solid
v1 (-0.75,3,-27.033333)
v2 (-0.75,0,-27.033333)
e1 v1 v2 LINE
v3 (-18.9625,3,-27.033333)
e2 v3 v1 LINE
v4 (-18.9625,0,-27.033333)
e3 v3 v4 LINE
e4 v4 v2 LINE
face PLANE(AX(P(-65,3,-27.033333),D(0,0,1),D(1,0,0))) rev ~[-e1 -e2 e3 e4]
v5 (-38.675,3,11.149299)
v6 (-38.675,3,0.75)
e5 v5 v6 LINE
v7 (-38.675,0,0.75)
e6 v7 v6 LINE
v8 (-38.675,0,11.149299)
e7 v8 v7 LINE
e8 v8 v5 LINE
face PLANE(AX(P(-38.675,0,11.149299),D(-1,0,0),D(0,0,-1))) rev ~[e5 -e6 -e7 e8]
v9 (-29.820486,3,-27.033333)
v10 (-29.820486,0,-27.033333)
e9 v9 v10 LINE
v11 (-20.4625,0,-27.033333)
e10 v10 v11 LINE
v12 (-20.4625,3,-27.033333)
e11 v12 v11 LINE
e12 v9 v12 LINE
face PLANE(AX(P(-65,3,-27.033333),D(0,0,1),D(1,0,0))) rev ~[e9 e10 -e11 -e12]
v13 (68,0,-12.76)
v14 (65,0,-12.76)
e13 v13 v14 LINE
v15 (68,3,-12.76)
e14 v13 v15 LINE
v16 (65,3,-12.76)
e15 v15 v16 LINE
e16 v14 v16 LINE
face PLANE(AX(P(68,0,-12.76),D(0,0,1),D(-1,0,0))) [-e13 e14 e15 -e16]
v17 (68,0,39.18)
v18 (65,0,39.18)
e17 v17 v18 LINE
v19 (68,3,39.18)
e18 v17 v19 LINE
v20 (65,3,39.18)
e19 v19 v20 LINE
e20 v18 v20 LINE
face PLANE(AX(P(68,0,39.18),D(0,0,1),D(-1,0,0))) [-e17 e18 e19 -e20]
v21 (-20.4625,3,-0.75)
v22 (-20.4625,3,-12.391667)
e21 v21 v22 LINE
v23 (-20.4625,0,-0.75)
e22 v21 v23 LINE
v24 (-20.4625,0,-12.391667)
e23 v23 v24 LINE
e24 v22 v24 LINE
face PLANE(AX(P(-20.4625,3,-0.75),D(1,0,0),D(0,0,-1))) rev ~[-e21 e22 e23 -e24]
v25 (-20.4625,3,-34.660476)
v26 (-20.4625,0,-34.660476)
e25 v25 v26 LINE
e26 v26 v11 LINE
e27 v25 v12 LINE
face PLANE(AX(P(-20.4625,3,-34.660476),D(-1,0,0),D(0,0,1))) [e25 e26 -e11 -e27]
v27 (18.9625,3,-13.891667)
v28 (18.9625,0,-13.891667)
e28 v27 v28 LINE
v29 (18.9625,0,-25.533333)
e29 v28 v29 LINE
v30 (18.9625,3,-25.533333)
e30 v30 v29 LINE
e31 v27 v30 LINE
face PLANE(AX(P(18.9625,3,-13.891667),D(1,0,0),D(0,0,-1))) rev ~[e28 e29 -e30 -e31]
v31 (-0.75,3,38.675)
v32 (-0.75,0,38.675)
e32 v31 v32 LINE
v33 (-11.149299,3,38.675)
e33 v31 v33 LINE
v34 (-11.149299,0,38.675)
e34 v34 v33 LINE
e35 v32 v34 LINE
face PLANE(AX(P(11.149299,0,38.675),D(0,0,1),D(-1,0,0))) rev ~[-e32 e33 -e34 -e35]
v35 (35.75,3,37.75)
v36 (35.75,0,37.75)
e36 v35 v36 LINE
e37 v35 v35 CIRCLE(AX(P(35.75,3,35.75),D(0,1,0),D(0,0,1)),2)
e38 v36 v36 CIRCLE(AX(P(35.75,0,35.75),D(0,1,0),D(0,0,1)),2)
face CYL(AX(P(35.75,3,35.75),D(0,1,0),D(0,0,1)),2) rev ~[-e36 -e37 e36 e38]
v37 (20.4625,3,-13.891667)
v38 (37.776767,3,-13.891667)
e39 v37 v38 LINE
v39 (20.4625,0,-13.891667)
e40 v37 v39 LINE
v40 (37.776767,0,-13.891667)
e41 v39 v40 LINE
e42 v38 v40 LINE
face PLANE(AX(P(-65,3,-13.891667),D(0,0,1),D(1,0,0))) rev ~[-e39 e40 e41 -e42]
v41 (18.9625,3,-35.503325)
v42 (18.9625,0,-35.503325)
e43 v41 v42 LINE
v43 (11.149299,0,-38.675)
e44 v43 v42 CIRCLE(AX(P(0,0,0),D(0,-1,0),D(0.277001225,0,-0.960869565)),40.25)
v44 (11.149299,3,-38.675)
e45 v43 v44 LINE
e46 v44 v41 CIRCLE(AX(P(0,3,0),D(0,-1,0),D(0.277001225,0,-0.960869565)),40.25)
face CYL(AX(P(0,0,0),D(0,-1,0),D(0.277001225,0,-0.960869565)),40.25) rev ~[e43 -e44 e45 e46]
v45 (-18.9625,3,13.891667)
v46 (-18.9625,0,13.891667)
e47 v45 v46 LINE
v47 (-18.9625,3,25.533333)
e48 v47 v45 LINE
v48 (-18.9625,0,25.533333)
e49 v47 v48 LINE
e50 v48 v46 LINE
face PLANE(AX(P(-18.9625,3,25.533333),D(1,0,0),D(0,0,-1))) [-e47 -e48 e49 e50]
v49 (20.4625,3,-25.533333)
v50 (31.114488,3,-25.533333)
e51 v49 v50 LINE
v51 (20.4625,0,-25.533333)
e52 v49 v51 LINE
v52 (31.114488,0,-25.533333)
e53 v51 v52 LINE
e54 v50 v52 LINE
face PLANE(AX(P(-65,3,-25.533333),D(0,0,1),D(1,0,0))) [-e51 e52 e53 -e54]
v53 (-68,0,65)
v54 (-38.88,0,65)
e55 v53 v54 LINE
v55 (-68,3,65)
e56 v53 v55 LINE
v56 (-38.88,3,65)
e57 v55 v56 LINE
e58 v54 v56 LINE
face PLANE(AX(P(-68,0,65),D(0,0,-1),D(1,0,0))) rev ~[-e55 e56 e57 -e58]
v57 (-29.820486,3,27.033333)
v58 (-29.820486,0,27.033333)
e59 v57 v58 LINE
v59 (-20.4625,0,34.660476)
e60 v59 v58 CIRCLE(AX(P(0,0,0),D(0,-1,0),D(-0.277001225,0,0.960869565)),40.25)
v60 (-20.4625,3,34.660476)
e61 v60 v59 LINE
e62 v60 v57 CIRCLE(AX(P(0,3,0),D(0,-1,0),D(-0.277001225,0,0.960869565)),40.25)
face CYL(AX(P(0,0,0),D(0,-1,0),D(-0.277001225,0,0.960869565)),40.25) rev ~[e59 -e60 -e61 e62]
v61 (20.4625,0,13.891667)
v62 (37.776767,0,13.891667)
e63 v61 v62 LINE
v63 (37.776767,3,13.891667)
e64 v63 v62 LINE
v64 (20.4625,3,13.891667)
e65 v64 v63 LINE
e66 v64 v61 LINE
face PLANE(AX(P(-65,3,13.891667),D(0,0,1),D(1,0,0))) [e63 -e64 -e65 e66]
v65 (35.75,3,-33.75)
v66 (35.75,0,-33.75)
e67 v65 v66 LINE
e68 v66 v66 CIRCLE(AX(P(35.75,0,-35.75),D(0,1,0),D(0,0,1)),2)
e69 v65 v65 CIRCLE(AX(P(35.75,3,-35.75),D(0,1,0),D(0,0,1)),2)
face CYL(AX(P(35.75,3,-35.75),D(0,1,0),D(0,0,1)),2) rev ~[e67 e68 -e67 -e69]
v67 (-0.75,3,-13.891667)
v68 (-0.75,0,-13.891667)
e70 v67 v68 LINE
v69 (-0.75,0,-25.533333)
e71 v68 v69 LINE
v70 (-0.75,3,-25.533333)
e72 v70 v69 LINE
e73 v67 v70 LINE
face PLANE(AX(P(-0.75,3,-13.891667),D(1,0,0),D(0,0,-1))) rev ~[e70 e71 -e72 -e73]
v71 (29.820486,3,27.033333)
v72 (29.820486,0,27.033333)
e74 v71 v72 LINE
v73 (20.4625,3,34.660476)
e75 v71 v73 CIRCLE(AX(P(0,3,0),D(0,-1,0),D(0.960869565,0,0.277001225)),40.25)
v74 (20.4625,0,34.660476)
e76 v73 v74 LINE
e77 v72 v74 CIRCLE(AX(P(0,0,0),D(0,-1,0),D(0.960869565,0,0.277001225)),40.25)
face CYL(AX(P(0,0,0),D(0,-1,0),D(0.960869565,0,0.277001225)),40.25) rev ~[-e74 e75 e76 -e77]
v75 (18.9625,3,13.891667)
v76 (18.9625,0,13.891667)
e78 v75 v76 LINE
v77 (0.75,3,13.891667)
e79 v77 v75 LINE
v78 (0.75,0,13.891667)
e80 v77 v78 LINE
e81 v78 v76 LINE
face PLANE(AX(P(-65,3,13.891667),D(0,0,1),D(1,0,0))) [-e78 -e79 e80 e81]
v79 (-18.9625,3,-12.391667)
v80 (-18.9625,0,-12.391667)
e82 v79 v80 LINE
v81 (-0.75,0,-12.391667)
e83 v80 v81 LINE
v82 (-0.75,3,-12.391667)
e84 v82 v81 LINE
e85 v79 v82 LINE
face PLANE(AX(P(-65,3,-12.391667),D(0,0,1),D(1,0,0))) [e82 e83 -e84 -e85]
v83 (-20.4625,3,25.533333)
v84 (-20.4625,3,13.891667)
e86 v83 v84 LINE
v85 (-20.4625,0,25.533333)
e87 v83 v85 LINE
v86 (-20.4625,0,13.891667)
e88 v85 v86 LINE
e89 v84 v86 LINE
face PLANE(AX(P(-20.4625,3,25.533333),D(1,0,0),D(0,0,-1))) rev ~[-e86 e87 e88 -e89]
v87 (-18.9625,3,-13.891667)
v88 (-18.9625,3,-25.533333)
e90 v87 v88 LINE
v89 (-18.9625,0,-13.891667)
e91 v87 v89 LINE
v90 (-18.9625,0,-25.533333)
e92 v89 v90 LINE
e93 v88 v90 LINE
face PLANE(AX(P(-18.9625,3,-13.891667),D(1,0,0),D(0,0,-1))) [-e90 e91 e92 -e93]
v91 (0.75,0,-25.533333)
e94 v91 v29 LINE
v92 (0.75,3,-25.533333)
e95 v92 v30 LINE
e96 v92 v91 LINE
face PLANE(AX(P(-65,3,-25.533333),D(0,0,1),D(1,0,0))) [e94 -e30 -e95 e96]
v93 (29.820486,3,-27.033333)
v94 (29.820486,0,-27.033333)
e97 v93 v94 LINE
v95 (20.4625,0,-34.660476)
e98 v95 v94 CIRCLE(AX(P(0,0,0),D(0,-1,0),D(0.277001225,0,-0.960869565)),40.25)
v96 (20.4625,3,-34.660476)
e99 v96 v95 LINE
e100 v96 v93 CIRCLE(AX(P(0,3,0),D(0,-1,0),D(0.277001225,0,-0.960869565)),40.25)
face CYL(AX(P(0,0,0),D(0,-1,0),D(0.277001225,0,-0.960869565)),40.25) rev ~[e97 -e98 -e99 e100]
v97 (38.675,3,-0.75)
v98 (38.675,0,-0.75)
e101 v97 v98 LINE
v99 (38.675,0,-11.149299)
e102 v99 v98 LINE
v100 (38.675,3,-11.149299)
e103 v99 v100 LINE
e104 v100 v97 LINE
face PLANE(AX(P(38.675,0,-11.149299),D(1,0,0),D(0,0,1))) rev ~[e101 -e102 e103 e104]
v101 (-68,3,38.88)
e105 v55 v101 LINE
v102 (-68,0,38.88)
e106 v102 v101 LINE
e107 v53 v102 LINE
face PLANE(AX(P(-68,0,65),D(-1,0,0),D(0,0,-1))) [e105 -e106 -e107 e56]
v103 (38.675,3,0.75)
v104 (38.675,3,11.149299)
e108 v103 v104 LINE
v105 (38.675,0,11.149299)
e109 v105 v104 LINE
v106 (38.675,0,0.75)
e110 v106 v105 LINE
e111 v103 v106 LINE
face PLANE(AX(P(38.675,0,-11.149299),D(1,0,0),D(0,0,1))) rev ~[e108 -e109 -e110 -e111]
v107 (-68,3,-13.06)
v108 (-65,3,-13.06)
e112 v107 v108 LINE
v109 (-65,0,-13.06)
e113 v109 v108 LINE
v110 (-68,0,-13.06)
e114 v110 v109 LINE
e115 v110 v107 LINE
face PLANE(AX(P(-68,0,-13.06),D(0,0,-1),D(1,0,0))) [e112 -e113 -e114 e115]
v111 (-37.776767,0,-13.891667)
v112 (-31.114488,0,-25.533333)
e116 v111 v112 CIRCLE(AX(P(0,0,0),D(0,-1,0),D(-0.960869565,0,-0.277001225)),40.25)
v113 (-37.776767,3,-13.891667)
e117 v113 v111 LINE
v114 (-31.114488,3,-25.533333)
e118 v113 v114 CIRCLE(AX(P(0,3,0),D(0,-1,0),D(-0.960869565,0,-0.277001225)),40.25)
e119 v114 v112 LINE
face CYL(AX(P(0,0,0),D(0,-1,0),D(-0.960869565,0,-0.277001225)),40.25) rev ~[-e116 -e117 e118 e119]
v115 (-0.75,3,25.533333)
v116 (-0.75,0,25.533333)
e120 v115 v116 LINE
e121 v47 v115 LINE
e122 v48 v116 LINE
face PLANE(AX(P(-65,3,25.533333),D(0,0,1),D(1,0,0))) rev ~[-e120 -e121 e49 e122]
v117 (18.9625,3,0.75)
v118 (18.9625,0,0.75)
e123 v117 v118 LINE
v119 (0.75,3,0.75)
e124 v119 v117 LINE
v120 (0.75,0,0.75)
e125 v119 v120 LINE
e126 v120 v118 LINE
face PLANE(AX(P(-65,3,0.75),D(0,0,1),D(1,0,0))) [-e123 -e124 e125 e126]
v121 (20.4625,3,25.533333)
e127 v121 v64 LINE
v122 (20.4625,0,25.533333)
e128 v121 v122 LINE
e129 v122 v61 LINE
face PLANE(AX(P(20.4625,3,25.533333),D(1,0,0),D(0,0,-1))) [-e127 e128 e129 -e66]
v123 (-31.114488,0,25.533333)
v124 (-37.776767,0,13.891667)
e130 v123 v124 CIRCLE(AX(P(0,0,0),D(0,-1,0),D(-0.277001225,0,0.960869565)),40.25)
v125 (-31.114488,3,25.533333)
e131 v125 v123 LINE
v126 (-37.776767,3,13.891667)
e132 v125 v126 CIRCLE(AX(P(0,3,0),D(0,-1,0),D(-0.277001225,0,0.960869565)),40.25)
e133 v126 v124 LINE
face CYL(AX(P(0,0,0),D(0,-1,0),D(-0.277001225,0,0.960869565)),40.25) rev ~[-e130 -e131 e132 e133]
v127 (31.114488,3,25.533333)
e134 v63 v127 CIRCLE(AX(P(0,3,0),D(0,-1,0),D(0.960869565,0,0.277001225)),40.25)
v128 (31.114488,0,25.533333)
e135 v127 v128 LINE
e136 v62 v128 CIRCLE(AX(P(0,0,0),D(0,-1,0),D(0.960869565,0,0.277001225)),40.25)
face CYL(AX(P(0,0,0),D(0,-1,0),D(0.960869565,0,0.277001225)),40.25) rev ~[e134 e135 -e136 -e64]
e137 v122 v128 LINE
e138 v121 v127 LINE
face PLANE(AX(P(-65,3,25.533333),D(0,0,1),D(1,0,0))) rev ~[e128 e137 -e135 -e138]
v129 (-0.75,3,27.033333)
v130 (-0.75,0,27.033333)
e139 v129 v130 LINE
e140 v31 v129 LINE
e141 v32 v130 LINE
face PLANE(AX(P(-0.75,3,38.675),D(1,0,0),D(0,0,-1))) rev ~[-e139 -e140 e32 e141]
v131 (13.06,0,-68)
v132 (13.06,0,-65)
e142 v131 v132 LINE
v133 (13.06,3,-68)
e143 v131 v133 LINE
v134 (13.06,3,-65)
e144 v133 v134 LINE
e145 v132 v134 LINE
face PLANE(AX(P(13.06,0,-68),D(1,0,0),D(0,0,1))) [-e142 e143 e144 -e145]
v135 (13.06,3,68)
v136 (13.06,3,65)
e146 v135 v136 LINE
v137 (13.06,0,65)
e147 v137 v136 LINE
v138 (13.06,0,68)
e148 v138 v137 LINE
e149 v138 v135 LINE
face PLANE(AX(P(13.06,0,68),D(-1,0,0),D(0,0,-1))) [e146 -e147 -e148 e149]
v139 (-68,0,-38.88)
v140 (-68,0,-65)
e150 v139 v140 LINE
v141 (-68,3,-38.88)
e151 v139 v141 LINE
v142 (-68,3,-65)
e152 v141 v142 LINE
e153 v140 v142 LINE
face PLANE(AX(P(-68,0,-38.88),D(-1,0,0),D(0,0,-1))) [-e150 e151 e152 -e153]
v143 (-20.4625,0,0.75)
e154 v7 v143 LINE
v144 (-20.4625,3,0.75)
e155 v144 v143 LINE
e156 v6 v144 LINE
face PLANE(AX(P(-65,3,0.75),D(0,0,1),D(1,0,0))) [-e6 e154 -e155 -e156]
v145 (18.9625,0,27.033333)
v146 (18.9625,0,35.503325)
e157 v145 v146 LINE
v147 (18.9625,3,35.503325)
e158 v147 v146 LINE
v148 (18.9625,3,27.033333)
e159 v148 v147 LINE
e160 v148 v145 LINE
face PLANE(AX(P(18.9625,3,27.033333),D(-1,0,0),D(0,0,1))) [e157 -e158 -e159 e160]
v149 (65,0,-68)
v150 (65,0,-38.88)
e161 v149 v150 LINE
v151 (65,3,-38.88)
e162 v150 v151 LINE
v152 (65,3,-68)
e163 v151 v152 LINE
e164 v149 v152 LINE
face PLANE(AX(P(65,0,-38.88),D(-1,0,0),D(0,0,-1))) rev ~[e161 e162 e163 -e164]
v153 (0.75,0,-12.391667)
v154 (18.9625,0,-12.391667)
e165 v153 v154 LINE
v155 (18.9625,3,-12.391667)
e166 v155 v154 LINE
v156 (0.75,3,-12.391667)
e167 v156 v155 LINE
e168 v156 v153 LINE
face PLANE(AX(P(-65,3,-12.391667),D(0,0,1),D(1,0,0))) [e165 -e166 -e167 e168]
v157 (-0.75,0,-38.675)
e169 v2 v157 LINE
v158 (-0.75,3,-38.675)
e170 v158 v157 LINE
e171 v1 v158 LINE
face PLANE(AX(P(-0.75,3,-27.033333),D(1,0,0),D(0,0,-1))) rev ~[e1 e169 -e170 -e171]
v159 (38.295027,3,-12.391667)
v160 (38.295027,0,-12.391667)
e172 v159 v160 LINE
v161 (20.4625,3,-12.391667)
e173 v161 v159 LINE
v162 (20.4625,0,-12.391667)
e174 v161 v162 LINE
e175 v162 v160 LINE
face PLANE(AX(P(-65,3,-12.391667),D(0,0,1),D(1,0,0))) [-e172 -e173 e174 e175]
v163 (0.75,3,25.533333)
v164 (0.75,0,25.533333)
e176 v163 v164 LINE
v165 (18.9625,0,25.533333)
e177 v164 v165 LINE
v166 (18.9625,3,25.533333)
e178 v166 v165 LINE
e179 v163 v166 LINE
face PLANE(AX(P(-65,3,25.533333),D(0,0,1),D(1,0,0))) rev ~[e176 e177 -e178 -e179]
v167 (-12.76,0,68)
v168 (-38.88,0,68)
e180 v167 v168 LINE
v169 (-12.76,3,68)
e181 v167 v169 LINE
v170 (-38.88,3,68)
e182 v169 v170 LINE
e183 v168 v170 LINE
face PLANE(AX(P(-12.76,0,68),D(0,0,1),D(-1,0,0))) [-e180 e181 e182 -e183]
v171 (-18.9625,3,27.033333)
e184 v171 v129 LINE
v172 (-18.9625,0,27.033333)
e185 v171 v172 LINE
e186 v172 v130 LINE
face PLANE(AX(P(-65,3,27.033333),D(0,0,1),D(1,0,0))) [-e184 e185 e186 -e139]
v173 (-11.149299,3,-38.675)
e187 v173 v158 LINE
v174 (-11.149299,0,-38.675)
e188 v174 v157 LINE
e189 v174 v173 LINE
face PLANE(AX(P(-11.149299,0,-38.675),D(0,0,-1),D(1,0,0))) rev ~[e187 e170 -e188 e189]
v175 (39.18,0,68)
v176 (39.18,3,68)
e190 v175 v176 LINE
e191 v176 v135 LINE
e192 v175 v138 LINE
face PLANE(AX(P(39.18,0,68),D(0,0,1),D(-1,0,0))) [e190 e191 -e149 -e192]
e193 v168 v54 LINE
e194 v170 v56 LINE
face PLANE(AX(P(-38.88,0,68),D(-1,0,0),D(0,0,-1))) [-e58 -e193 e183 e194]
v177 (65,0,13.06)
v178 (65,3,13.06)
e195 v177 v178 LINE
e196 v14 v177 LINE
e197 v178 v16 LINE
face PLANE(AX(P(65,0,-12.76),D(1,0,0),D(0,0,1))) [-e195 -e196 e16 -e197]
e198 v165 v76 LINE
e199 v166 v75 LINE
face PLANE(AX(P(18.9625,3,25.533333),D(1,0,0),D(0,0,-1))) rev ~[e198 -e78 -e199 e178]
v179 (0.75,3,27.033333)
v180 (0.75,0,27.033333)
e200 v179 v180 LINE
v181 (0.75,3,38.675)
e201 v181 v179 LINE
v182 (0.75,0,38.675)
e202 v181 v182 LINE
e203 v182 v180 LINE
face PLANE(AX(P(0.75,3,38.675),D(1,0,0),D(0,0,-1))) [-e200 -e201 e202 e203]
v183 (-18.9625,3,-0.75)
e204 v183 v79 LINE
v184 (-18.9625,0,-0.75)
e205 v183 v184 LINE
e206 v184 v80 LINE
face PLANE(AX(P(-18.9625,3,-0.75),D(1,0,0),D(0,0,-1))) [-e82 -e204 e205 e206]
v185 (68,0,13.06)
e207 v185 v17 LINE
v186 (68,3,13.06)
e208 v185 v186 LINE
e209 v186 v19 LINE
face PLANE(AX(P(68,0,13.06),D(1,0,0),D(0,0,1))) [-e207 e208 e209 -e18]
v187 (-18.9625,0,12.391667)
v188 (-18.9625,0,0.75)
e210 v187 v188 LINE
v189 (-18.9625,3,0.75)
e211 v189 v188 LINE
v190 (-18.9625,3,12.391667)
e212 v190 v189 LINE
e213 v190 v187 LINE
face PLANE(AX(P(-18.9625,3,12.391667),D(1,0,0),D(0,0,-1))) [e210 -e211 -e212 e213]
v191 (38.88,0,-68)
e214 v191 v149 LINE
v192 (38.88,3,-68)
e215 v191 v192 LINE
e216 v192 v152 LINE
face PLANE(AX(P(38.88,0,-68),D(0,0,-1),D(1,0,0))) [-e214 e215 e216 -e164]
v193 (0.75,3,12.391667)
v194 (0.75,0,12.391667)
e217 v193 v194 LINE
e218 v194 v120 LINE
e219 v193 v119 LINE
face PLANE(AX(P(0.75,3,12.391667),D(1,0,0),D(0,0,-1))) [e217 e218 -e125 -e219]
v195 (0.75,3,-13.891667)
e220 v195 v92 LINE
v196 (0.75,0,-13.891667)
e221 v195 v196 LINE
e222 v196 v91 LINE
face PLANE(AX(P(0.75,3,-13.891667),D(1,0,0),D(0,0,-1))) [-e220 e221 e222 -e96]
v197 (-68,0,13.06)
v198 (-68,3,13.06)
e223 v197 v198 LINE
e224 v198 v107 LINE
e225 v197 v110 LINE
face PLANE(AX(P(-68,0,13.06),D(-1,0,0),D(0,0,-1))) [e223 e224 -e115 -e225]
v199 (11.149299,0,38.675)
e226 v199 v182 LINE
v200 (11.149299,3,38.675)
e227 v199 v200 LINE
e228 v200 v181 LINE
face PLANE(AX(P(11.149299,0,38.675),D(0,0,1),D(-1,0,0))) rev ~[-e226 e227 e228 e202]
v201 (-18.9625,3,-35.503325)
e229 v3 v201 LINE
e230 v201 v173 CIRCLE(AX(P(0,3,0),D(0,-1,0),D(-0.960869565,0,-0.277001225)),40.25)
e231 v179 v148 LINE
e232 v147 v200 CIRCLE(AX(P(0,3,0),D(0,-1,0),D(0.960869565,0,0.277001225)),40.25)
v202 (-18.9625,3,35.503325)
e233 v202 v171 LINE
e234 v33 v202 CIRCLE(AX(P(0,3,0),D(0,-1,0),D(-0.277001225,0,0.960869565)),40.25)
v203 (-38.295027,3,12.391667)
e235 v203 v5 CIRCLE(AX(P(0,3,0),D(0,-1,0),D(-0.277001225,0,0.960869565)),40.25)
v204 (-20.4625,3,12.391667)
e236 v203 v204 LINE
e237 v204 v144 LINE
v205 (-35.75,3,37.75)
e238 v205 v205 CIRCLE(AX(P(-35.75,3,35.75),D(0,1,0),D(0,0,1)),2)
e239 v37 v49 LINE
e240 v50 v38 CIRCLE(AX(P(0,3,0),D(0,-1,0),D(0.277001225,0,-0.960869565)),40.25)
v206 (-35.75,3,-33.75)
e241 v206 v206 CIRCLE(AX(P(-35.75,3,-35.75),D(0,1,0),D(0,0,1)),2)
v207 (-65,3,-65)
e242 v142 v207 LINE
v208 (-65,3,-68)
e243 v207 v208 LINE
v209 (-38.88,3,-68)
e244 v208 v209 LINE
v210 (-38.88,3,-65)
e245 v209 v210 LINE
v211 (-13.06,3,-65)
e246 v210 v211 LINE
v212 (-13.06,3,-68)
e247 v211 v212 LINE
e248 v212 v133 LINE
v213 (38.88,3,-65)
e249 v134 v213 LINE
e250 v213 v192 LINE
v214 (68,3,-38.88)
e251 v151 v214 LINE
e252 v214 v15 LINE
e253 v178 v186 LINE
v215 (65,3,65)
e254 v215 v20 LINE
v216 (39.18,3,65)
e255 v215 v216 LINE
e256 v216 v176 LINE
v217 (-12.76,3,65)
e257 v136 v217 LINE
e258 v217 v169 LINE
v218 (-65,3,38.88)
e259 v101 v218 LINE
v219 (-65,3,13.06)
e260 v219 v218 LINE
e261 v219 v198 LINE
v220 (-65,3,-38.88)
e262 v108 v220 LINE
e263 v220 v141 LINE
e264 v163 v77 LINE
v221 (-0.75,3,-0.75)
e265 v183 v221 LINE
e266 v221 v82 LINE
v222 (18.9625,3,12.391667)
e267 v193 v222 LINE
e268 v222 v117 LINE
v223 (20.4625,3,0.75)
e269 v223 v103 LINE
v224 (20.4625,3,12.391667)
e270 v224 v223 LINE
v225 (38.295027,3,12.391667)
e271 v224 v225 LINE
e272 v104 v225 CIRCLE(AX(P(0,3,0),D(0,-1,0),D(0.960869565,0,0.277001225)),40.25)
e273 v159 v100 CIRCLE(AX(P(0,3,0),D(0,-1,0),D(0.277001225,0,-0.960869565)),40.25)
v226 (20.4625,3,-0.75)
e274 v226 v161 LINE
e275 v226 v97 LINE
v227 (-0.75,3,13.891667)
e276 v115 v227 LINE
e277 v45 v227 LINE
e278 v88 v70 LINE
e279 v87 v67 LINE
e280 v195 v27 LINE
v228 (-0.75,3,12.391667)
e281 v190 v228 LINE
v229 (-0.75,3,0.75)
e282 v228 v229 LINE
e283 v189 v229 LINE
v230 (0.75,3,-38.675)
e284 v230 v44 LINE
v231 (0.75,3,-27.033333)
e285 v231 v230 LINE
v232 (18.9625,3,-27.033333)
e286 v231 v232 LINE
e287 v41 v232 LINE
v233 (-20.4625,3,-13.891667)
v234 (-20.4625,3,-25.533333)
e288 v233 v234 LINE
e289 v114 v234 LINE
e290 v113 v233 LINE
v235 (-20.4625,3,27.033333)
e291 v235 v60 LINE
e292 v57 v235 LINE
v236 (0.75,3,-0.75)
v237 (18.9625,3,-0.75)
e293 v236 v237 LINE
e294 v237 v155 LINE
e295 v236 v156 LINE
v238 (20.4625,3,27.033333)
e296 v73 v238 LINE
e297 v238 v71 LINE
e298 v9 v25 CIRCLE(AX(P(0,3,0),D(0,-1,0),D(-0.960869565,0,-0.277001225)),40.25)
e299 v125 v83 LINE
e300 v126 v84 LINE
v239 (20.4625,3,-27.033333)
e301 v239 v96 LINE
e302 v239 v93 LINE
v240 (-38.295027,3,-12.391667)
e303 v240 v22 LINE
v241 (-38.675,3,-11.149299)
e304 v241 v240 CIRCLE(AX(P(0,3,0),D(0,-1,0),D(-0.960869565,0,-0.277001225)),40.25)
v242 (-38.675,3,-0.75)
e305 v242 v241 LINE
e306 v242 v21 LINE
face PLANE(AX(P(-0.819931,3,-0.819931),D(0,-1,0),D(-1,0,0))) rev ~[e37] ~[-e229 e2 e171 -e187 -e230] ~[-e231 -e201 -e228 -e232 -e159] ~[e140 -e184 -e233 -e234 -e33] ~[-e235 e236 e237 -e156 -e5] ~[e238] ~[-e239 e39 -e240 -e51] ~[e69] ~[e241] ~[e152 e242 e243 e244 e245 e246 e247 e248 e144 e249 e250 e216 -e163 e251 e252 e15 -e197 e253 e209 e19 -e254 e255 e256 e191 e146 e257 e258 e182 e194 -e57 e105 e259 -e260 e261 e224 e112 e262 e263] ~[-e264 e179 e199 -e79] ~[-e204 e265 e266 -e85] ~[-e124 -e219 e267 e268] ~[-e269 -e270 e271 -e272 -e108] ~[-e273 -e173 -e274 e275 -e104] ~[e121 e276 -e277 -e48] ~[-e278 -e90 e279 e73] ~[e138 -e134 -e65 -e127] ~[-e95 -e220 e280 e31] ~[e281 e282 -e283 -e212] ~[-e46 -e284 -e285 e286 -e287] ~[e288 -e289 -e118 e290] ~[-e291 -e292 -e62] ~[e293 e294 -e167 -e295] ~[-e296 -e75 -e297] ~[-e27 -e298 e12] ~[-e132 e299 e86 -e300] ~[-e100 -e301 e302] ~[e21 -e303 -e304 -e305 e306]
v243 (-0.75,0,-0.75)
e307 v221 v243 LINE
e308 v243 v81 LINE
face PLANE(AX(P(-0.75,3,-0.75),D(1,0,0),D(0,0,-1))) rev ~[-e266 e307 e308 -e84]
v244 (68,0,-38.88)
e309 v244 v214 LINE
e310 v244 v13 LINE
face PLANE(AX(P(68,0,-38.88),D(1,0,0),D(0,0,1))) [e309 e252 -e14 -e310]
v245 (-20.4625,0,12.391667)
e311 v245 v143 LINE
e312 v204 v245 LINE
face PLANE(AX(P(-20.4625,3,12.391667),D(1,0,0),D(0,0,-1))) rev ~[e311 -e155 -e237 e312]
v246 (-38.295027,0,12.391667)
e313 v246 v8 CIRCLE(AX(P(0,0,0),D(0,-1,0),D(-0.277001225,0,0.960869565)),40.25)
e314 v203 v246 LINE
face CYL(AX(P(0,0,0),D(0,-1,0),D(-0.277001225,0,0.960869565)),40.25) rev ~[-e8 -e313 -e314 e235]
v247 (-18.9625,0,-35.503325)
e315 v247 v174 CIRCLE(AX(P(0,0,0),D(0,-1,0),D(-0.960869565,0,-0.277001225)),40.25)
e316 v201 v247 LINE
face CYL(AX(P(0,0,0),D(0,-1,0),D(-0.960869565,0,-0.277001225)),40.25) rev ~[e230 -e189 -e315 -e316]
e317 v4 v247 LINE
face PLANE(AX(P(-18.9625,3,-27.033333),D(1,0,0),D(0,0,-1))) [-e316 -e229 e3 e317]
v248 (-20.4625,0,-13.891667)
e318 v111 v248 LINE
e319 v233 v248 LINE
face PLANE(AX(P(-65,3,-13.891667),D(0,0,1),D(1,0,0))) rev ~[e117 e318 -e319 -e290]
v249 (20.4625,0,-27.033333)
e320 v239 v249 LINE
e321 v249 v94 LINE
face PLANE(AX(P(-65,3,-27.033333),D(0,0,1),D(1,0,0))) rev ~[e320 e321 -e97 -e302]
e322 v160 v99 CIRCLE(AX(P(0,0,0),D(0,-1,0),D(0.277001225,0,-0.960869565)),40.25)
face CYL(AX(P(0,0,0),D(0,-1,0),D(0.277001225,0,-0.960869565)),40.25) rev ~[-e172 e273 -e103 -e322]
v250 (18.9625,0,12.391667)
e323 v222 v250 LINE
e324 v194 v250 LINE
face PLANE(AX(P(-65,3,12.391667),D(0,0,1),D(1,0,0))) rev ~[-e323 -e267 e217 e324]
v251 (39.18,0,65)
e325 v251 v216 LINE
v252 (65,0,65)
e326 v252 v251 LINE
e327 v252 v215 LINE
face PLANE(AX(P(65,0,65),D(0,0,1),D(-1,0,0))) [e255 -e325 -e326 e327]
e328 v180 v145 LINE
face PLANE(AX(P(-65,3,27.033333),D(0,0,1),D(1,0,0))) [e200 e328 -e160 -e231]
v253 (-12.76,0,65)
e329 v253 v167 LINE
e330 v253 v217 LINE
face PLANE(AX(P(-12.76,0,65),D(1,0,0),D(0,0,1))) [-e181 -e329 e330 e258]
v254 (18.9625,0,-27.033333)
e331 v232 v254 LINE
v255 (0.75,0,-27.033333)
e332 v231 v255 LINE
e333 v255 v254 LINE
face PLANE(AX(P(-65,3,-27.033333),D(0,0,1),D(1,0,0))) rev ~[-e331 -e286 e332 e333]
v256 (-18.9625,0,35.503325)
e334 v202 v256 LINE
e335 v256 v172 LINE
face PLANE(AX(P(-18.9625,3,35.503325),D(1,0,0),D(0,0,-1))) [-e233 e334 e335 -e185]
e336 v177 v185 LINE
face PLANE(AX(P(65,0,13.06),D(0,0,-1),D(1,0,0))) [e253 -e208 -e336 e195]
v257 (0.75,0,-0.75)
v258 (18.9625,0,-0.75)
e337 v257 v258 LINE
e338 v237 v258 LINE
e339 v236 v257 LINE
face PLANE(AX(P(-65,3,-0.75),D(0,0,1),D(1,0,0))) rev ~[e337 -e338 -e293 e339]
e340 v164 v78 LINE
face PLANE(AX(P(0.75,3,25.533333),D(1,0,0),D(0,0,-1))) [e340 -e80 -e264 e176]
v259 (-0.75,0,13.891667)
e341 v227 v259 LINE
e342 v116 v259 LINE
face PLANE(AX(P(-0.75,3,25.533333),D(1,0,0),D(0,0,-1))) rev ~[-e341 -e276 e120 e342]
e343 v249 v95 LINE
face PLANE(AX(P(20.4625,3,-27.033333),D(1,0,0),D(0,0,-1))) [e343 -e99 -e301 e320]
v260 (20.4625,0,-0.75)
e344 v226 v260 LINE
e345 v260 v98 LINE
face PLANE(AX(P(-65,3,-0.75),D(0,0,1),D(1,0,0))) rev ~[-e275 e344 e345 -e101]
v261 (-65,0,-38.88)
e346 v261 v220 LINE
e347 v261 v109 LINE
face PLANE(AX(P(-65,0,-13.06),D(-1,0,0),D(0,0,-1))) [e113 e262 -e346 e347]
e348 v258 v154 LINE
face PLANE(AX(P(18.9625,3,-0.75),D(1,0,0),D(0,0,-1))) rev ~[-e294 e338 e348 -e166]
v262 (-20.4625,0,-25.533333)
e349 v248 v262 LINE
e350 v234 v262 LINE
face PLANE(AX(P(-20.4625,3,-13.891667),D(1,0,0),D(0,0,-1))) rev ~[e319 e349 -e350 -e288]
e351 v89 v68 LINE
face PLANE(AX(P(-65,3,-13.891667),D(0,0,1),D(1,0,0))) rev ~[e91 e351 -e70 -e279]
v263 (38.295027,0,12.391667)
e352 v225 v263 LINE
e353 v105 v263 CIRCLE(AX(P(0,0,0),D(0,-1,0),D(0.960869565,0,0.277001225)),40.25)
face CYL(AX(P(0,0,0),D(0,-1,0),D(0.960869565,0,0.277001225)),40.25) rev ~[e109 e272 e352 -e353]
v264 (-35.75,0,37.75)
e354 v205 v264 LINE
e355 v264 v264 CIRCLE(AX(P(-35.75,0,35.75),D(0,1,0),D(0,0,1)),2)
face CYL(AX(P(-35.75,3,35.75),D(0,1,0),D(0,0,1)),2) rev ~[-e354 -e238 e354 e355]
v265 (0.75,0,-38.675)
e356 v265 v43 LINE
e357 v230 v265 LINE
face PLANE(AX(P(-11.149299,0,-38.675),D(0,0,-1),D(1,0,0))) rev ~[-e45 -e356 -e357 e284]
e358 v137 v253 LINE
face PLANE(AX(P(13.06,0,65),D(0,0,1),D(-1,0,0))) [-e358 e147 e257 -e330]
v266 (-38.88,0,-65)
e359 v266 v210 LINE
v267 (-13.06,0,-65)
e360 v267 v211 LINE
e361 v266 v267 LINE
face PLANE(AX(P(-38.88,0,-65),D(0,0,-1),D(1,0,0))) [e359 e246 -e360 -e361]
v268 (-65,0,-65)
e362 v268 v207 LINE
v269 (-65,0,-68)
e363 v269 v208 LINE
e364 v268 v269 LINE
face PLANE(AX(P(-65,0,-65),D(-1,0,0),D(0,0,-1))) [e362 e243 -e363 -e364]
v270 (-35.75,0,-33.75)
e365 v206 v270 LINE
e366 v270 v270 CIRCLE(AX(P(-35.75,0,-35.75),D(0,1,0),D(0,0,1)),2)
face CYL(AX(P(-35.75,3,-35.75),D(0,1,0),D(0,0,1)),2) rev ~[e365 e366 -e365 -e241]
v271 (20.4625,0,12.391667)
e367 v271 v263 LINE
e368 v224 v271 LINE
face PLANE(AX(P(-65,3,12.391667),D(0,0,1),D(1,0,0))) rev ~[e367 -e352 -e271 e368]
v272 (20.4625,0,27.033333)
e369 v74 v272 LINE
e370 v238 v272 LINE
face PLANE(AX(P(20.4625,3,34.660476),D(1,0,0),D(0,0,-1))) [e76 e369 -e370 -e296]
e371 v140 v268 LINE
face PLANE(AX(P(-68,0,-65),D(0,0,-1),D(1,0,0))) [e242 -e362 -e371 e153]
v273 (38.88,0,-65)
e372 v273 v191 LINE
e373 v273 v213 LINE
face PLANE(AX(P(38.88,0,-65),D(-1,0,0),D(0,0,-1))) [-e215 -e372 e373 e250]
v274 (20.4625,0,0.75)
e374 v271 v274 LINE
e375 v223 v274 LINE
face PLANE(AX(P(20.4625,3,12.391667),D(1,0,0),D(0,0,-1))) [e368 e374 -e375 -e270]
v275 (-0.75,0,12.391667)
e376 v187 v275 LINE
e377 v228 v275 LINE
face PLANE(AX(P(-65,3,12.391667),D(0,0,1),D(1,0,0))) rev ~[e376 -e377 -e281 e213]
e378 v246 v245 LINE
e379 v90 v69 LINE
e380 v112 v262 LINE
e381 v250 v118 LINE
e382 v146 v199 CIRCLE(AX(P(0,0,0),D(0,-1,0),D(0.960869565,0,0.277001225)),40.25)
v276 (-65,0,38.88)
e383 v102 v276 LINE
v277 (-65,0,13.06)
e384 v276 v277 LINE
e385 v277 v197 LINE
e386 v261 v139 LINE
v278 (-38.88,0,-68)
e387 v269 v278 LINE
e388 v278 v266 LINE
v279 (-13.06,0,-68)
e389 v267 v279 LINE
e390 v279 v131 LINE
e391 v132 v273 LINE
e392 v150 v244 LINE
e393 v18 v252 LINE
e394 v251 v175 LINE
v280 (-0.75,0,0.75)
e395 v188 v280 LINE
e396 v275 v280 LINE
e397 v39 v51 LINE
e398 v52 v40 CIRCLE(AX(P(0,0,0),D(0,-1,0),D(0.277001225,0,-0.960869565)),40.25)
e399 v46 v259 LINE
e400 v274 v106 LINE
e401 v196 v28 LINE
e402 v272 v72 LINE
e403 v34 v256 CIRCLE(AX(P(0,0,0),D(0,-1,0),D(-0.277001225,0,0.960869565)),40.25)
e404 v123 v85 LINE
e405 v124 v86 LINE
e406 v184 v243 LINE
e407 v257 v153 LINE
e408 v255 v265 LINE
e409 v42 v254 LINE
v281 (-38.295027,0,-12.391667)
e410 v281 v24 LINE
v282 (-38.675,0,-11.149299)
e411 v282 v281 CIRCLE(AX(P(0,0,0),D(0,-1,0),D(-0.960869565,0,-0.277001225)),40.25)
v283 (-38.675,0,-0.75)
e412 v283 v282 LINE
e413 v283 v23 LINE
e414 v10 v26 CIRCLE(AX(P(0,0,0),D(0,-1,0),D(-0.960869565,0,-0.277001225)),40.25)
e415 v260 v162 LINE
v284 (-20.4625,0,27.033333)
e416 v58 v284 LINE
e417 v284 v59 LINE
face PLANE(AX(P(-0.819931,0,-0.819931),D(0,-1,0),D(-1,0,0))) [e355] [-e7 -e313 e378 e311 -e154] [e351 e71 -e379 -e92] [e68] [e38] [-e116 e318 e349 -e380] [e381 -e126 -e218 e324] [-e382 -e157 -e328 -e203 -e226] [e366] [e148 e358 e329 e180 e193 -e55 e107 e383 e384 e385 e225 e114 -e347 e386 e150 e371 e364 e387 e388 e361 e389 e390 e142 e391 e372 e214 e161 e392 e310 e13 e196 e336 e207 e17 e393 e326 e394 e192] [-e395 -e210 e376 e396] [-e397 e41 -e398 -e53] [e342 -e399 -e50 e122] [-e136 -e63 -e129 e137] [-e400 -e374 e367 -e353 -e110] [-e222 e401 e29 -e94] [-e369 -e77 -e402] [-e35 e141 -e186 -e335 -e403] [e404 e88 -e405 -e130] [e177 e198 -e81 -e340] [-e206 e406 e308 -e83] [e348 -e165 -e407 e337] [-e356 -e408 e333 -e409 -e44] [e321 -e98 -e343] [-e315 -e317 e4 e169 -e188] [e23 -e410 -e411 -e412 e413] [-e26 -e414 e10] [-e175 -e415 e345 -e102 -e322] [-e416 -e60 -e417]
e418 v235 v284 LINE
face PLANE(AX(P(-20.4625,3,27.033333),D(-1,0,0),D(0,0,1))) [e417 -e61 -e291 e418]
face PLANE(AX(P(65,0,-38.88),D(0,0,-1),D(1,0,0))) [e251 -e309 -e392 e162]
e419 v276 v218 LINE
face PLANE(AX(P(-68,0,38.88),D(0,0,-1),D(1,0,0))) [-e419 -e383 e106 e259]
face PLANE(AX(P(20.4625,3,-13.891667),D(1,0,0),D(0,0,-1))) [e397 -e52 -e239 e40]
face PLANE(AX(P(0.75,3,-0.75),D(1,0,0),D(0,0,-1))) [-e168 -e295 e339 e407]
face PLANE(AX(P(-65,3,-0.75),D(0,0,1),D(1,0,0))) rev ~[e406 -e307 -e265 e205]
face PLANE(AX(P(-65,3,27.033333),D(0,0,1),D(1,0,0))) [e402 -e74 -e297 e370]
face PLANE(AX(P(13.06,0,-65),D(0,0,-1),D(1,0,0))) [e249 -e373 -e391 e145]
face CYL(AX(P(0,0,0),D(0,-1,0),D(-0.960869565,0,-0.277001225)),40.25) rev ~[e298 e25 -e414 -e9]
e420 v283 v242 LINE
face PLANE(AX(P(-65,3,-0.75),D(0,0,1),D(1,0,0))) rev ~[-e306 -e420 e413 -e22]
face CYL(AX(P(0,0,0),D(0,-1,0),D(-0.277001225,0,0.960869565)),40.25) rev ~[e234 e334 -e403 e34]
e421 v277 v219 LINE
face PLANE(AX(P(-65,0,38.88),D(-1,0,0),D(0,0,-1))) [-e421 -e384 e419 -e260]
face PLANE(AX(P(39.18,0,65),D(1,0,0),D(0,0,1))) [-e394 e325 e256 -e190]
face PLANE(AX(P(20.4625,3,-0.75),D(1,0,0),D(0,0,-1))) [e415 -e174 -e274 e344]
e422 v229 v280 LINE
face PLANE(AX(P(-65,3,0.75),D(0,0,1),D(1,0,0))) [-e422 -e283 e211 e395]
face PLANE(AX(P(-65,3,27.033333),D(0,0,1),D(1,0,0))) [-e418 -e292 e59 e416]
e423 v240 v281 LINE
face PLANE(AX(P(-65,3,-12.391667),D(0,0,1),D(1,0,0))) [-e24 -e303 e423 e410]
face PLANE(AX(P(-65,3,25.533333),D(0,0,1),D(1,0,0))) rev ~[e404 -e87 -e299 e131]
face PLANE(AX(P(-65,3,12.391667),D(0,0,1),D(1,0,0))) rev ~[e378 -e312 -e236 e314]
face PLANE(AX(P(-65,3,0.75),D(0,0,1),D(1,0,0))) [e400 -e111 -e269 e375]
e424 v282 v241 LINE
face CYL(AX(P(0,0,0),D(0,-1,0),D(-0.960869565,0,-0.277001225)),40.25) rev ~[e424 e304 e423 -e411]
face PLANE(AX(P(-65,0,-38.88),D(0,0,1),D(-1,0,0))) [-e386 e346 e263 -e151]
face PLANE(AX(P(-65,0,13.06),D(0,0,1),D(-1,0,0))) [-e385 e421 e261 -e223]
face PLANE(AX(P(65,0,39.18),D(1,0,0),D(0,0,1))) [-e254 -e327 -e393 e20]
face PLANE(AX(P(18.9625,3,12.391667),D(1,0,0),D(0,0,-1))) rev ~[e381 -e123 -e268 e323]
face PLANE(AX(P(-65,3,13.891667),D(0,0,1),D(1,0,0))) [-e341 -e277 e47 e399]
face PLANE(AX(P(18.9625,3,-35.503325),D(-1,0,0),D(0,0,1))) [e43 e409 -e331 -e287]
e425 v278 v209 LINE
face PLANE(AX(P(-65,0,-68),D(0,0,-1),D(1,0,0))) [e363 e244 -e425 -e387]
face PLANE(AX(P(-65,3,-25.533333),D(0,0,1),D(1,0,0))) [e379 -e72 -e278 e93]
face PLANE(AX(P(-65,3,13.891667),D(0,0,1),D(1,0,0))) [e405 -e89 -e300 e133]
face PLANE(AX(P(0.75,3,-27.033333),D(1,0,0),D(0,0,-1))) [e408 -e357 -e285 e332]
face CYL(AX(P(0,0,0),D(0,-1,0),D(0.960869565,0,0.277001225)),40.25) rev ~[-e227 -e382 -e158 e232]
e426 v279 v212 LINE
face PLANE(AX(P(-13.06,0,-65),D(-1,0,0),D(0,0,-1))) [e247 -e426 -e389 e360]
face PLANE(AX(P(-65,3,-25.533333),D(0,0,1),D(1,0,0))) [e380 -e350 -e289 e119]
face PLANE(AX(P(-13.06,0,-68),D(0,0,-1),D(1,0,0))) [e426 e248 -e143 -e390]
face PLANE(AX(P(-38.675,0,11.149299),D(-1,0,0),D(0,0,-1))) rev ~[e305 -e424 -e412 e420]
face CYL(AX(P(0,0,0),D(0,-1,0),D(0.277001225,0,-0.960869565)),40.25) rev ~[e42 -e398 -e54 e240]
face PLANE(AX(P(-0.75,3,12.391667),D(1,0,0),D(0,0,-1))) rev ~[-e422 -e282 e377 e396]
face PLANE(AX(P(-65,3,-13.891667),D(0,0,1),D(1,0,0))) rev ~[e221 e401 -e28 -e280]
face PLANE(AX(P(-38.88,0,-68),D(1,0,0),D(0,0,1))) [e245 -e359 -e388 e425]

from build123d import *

# Parameters (mm, degrees)
BOSS_EXTRUDE1_DEPTH = 3
SKETCH2_W           = 130
SKETCH2_H           = 1.5
BOSS_EXTRUDE2_DEPTH = 3
SKETCH3_W           = 1.5
SKETCH3_H           = 11.641666667
SKETCH3_H_2         = 11.641666666
BOSS_EXTRUDE3_DEPTH = 3
SKETCH4_R           = 2
CUT_EXTRUDE1_DEPTH  = 97.213304693


with BuildPart() as part:
    # Sketch1 → Boss-Extrude1 (new body)
    with BuildSketch(Plane(origin=(0, 0, 0), x_dir=(1, 0, 0), z_dir=(0, 1, 0))):
        Polygon((65, 38.88), (68, 38.88), (68, 12.76), (65, 12.76), (65, -13.06), (68, -13.06), (68, -39.18), (65, -39.18), (65, -65), (39.18, -65), (39.18, -68), (13.06, -68), (13.06, -65), (-12.76, -65), (-12.76, -68), (-38.88, -68), (-38.88, -65), (-64.7, -65), (-68, -65), (-68, -38.88), (-65, -38.88), (-65, -13.06), (-68, -13.06), (-68, 13.06), (-65, 13.06), (-65, 38.88), (-68, 38.88), (-68, 65), (-65, 65), (-65, 68), (-38.88, 68), (-38.88, 65), (-13.06, 65), (-13.06, 68), (13.06, 68), (13.06, 65), (38.88, 65), (38.88, 68), (65, 68), (65, 64.7), align=None)
        with BuildLine():
            Line((11.149299305, -38.675), (-11.149299305, -38.675))
            ThreePointArc((-11.149299305, -38.675), (-28.461047943, -28.461047943), (-38.675, -11.149299305))
            Line((-38.675, -11.149299305), (-38.675, 11.149299305))
            ThreePointArc((-38.675, 11.149299305), (-28.461047943, 28.461047943), (-11.149299305, 38.675))
            Line((-11.149299305, 38.675), (11.149299305, 38.675))
            ThreePointArc((11.149299305, 38.675), (28.461047943, 28.461047943), (38.675, 11.149299305))
            Line((38.675, 11.149299305), (38.675, -11.149299305))
            ThreePointArc((38.675, -11.149299305), (28.461047943, -28.461047943), (11.149299305, -38.675))
        make_face(mode=Mode.SUBTRACT)
    extrude(amount=BOSS_EXTRUDE1_DEPTH)

    # Sketch2 → Boss-Extrude2 (add, through all)
    with BuildSketch(Plane(origin=(0, 3, 0), x_dir=(1, 0, 0), z_dir=(0, 1, 0))):
        with Locations((0, 39.425)):
            Rectangle(SKETCH2_W, SKETCH2_H)
        with Locations((0, 26.283333333)):
            Rectangle(SKETCH2_W, SKETCH2_H)
        with Locations((0, 13.141666667)):
            Rectangle(SKETCH2_W, SKETCH2_H)
        Rectangle(SKETCH2_W, SKETCH2_H)
        with Locations((0, -13.141666667)):
            Rectangle(SKETCH2_W, SKETCH2_H)
        with Locations((0, -26.283333333)):
            Rectangle(SKETCH2_W, SKETCH2_H)
        with Locations((0, -39.425)):
            Rectangle(SKETCH2_W, SKETCH2_H)
    extrude(amount=-BOSS_EXTRUDE2_DEPTH)

    # Sketch3 → Boss-Extrude3 (add, through all)
    with BuildSketch(Plane(origin=(0, 3, 0), x_dir=(1, 0, 0), z_dir=(0, 1, 0))):
        with Locations((-19.7125, -6.570833334)):
            Rectangle(SKETCH3_W, SKETCH3_H)
        with Locations((-19.7125, 6.570833334)):
            Rectangle(SKETCH3_W, SKETCH3_H)
        with Locations((-19.7125, -19.7125)):
            Rectangle(SKETCH3_W, SKETCH3_H_2)
        with Locations((0, -6.570833334)):
            Rectangle(SKETCH3_W, SKETCH3_H)
        with Locations((-19.7125, 19.7125)):
            Rectangle(SKETCH3_W, SKETCH3_H_2)
        with Locations((0, 6.570833334)):
            Rectangle(SKETCH3_W, SKETCH3_H)
        with BuildLine():
            Line((-18.9625, -27.033333333), (-20.4625, -27.033333333))
            Line((-20.4625, -27.033333333), (-20.4625, -34.66047596))
            ThreePointArc((-20.4625, -34.66047596), (-19.717004208, -35.089916573), (-18.9625, -35.503325108))
            Line((-18.9625, -35.503325108), (-18.9625, -27.033333333))
        make_face()
        with Locations((0, -19.7125)):
            Rectangle(SKETCH3_W, SKETCH3_H_2)
        with Locations((19.7125, -6.570833334)):
            Rectangle(SKETCH3_W, SKETCH3_H)
        with BuildLine():
            Line((-20.4625, 34.66047596), (-20.4625, 27.033333333))
            Line((-20.4625, 27.033333333), (-18.9625, 27.033333333))
            Line((-18.9625, 27.033333333), (-18.9625, 35.503325108))
            ThreePointArc((-18.9625, 35.503325108), (-19.717004208, 35.089916573), (-20.4625, 34.66047596))
        make_face()
        with Locations((0, 19.7125)):
            Rectangle(SKETCH3_W, SKETCH3_H_2)
        with Locations((19.7125, 6.570833334)):
            Rectangle(SKETCH3_W, SKETCH3_H)
        with Locations((0, -32.854166667)):
            Rectangle(SKETCH3_W, SKETCH3_H)
        with Locations((19.7125, -19.7125)):
            Rectangle(SKETCH3_W, SKETCH3_H_2)
        with Locations((0, 32.854166667)):
            Rectangle(SKETCH3_W, SKETCH3_H)
        with Locations((19.7125, 19.7125)):
            Rectangle(SKETCH3_W, SKETCH3_H_2)
        with BuildLine():
            Line((20.4625, -27.033333333), (18.9625, -27.033333333))
            Line((18.9625, -27.033333333), (18.9625, -35.503325108))
            ThreePointArc((18.9625, -35.503325108), (19.717004208, -35.089916573), (20.4625, -34.66047596))
            Line((20.4625, -34.66047596), (20.4625, -27.033333333))
        make_face()
        with BuildLine():
            Line((18.9625, 35.503325108), (18.9625, 27.033333333))
            Line((18.9625, 27.033333333), (20.4625, 27.033333333))
            Line((20.4625, 27.033333333), (20.4625, 34.66047596))
            ThreePointArc((20.4625, 34.66047596), (19.717004208, 35.089916573), (18.9625, 35.503325108))
        make_face()
    extrude(amount=-BOSS_EXTRUDE3_DEPTH)

    # Sketch4 → Cut-Extrude1 (cut, through all)
    with BuildSketch(Plane(origin=(0, 3, 0), x_dir=(1, 0, 0), z_dir=(0, 1, 0))):
        with Locations(Location((-35.75, 35.75, 0), (0, 0, 270))):
            Circle(SKETCH4_R)
        with Locations(Location((35.75, 35.75, 0), (0, 0, 270))):
            Circle(SKETCH4_R)
        with Locations(Location((35.75, -35.75, 0), (0, 0, 270))):
            Circle(SKETCH4_R)
        with Locations(Location((-35.75, -35.75, 0), (0, 0, 270))):
            Circle(SKETCH4_R)
    extrude(amount=-CUT_EXTRUDE1_DEPTH, mode=Mode.SUBTRACT)


solid = part.part
